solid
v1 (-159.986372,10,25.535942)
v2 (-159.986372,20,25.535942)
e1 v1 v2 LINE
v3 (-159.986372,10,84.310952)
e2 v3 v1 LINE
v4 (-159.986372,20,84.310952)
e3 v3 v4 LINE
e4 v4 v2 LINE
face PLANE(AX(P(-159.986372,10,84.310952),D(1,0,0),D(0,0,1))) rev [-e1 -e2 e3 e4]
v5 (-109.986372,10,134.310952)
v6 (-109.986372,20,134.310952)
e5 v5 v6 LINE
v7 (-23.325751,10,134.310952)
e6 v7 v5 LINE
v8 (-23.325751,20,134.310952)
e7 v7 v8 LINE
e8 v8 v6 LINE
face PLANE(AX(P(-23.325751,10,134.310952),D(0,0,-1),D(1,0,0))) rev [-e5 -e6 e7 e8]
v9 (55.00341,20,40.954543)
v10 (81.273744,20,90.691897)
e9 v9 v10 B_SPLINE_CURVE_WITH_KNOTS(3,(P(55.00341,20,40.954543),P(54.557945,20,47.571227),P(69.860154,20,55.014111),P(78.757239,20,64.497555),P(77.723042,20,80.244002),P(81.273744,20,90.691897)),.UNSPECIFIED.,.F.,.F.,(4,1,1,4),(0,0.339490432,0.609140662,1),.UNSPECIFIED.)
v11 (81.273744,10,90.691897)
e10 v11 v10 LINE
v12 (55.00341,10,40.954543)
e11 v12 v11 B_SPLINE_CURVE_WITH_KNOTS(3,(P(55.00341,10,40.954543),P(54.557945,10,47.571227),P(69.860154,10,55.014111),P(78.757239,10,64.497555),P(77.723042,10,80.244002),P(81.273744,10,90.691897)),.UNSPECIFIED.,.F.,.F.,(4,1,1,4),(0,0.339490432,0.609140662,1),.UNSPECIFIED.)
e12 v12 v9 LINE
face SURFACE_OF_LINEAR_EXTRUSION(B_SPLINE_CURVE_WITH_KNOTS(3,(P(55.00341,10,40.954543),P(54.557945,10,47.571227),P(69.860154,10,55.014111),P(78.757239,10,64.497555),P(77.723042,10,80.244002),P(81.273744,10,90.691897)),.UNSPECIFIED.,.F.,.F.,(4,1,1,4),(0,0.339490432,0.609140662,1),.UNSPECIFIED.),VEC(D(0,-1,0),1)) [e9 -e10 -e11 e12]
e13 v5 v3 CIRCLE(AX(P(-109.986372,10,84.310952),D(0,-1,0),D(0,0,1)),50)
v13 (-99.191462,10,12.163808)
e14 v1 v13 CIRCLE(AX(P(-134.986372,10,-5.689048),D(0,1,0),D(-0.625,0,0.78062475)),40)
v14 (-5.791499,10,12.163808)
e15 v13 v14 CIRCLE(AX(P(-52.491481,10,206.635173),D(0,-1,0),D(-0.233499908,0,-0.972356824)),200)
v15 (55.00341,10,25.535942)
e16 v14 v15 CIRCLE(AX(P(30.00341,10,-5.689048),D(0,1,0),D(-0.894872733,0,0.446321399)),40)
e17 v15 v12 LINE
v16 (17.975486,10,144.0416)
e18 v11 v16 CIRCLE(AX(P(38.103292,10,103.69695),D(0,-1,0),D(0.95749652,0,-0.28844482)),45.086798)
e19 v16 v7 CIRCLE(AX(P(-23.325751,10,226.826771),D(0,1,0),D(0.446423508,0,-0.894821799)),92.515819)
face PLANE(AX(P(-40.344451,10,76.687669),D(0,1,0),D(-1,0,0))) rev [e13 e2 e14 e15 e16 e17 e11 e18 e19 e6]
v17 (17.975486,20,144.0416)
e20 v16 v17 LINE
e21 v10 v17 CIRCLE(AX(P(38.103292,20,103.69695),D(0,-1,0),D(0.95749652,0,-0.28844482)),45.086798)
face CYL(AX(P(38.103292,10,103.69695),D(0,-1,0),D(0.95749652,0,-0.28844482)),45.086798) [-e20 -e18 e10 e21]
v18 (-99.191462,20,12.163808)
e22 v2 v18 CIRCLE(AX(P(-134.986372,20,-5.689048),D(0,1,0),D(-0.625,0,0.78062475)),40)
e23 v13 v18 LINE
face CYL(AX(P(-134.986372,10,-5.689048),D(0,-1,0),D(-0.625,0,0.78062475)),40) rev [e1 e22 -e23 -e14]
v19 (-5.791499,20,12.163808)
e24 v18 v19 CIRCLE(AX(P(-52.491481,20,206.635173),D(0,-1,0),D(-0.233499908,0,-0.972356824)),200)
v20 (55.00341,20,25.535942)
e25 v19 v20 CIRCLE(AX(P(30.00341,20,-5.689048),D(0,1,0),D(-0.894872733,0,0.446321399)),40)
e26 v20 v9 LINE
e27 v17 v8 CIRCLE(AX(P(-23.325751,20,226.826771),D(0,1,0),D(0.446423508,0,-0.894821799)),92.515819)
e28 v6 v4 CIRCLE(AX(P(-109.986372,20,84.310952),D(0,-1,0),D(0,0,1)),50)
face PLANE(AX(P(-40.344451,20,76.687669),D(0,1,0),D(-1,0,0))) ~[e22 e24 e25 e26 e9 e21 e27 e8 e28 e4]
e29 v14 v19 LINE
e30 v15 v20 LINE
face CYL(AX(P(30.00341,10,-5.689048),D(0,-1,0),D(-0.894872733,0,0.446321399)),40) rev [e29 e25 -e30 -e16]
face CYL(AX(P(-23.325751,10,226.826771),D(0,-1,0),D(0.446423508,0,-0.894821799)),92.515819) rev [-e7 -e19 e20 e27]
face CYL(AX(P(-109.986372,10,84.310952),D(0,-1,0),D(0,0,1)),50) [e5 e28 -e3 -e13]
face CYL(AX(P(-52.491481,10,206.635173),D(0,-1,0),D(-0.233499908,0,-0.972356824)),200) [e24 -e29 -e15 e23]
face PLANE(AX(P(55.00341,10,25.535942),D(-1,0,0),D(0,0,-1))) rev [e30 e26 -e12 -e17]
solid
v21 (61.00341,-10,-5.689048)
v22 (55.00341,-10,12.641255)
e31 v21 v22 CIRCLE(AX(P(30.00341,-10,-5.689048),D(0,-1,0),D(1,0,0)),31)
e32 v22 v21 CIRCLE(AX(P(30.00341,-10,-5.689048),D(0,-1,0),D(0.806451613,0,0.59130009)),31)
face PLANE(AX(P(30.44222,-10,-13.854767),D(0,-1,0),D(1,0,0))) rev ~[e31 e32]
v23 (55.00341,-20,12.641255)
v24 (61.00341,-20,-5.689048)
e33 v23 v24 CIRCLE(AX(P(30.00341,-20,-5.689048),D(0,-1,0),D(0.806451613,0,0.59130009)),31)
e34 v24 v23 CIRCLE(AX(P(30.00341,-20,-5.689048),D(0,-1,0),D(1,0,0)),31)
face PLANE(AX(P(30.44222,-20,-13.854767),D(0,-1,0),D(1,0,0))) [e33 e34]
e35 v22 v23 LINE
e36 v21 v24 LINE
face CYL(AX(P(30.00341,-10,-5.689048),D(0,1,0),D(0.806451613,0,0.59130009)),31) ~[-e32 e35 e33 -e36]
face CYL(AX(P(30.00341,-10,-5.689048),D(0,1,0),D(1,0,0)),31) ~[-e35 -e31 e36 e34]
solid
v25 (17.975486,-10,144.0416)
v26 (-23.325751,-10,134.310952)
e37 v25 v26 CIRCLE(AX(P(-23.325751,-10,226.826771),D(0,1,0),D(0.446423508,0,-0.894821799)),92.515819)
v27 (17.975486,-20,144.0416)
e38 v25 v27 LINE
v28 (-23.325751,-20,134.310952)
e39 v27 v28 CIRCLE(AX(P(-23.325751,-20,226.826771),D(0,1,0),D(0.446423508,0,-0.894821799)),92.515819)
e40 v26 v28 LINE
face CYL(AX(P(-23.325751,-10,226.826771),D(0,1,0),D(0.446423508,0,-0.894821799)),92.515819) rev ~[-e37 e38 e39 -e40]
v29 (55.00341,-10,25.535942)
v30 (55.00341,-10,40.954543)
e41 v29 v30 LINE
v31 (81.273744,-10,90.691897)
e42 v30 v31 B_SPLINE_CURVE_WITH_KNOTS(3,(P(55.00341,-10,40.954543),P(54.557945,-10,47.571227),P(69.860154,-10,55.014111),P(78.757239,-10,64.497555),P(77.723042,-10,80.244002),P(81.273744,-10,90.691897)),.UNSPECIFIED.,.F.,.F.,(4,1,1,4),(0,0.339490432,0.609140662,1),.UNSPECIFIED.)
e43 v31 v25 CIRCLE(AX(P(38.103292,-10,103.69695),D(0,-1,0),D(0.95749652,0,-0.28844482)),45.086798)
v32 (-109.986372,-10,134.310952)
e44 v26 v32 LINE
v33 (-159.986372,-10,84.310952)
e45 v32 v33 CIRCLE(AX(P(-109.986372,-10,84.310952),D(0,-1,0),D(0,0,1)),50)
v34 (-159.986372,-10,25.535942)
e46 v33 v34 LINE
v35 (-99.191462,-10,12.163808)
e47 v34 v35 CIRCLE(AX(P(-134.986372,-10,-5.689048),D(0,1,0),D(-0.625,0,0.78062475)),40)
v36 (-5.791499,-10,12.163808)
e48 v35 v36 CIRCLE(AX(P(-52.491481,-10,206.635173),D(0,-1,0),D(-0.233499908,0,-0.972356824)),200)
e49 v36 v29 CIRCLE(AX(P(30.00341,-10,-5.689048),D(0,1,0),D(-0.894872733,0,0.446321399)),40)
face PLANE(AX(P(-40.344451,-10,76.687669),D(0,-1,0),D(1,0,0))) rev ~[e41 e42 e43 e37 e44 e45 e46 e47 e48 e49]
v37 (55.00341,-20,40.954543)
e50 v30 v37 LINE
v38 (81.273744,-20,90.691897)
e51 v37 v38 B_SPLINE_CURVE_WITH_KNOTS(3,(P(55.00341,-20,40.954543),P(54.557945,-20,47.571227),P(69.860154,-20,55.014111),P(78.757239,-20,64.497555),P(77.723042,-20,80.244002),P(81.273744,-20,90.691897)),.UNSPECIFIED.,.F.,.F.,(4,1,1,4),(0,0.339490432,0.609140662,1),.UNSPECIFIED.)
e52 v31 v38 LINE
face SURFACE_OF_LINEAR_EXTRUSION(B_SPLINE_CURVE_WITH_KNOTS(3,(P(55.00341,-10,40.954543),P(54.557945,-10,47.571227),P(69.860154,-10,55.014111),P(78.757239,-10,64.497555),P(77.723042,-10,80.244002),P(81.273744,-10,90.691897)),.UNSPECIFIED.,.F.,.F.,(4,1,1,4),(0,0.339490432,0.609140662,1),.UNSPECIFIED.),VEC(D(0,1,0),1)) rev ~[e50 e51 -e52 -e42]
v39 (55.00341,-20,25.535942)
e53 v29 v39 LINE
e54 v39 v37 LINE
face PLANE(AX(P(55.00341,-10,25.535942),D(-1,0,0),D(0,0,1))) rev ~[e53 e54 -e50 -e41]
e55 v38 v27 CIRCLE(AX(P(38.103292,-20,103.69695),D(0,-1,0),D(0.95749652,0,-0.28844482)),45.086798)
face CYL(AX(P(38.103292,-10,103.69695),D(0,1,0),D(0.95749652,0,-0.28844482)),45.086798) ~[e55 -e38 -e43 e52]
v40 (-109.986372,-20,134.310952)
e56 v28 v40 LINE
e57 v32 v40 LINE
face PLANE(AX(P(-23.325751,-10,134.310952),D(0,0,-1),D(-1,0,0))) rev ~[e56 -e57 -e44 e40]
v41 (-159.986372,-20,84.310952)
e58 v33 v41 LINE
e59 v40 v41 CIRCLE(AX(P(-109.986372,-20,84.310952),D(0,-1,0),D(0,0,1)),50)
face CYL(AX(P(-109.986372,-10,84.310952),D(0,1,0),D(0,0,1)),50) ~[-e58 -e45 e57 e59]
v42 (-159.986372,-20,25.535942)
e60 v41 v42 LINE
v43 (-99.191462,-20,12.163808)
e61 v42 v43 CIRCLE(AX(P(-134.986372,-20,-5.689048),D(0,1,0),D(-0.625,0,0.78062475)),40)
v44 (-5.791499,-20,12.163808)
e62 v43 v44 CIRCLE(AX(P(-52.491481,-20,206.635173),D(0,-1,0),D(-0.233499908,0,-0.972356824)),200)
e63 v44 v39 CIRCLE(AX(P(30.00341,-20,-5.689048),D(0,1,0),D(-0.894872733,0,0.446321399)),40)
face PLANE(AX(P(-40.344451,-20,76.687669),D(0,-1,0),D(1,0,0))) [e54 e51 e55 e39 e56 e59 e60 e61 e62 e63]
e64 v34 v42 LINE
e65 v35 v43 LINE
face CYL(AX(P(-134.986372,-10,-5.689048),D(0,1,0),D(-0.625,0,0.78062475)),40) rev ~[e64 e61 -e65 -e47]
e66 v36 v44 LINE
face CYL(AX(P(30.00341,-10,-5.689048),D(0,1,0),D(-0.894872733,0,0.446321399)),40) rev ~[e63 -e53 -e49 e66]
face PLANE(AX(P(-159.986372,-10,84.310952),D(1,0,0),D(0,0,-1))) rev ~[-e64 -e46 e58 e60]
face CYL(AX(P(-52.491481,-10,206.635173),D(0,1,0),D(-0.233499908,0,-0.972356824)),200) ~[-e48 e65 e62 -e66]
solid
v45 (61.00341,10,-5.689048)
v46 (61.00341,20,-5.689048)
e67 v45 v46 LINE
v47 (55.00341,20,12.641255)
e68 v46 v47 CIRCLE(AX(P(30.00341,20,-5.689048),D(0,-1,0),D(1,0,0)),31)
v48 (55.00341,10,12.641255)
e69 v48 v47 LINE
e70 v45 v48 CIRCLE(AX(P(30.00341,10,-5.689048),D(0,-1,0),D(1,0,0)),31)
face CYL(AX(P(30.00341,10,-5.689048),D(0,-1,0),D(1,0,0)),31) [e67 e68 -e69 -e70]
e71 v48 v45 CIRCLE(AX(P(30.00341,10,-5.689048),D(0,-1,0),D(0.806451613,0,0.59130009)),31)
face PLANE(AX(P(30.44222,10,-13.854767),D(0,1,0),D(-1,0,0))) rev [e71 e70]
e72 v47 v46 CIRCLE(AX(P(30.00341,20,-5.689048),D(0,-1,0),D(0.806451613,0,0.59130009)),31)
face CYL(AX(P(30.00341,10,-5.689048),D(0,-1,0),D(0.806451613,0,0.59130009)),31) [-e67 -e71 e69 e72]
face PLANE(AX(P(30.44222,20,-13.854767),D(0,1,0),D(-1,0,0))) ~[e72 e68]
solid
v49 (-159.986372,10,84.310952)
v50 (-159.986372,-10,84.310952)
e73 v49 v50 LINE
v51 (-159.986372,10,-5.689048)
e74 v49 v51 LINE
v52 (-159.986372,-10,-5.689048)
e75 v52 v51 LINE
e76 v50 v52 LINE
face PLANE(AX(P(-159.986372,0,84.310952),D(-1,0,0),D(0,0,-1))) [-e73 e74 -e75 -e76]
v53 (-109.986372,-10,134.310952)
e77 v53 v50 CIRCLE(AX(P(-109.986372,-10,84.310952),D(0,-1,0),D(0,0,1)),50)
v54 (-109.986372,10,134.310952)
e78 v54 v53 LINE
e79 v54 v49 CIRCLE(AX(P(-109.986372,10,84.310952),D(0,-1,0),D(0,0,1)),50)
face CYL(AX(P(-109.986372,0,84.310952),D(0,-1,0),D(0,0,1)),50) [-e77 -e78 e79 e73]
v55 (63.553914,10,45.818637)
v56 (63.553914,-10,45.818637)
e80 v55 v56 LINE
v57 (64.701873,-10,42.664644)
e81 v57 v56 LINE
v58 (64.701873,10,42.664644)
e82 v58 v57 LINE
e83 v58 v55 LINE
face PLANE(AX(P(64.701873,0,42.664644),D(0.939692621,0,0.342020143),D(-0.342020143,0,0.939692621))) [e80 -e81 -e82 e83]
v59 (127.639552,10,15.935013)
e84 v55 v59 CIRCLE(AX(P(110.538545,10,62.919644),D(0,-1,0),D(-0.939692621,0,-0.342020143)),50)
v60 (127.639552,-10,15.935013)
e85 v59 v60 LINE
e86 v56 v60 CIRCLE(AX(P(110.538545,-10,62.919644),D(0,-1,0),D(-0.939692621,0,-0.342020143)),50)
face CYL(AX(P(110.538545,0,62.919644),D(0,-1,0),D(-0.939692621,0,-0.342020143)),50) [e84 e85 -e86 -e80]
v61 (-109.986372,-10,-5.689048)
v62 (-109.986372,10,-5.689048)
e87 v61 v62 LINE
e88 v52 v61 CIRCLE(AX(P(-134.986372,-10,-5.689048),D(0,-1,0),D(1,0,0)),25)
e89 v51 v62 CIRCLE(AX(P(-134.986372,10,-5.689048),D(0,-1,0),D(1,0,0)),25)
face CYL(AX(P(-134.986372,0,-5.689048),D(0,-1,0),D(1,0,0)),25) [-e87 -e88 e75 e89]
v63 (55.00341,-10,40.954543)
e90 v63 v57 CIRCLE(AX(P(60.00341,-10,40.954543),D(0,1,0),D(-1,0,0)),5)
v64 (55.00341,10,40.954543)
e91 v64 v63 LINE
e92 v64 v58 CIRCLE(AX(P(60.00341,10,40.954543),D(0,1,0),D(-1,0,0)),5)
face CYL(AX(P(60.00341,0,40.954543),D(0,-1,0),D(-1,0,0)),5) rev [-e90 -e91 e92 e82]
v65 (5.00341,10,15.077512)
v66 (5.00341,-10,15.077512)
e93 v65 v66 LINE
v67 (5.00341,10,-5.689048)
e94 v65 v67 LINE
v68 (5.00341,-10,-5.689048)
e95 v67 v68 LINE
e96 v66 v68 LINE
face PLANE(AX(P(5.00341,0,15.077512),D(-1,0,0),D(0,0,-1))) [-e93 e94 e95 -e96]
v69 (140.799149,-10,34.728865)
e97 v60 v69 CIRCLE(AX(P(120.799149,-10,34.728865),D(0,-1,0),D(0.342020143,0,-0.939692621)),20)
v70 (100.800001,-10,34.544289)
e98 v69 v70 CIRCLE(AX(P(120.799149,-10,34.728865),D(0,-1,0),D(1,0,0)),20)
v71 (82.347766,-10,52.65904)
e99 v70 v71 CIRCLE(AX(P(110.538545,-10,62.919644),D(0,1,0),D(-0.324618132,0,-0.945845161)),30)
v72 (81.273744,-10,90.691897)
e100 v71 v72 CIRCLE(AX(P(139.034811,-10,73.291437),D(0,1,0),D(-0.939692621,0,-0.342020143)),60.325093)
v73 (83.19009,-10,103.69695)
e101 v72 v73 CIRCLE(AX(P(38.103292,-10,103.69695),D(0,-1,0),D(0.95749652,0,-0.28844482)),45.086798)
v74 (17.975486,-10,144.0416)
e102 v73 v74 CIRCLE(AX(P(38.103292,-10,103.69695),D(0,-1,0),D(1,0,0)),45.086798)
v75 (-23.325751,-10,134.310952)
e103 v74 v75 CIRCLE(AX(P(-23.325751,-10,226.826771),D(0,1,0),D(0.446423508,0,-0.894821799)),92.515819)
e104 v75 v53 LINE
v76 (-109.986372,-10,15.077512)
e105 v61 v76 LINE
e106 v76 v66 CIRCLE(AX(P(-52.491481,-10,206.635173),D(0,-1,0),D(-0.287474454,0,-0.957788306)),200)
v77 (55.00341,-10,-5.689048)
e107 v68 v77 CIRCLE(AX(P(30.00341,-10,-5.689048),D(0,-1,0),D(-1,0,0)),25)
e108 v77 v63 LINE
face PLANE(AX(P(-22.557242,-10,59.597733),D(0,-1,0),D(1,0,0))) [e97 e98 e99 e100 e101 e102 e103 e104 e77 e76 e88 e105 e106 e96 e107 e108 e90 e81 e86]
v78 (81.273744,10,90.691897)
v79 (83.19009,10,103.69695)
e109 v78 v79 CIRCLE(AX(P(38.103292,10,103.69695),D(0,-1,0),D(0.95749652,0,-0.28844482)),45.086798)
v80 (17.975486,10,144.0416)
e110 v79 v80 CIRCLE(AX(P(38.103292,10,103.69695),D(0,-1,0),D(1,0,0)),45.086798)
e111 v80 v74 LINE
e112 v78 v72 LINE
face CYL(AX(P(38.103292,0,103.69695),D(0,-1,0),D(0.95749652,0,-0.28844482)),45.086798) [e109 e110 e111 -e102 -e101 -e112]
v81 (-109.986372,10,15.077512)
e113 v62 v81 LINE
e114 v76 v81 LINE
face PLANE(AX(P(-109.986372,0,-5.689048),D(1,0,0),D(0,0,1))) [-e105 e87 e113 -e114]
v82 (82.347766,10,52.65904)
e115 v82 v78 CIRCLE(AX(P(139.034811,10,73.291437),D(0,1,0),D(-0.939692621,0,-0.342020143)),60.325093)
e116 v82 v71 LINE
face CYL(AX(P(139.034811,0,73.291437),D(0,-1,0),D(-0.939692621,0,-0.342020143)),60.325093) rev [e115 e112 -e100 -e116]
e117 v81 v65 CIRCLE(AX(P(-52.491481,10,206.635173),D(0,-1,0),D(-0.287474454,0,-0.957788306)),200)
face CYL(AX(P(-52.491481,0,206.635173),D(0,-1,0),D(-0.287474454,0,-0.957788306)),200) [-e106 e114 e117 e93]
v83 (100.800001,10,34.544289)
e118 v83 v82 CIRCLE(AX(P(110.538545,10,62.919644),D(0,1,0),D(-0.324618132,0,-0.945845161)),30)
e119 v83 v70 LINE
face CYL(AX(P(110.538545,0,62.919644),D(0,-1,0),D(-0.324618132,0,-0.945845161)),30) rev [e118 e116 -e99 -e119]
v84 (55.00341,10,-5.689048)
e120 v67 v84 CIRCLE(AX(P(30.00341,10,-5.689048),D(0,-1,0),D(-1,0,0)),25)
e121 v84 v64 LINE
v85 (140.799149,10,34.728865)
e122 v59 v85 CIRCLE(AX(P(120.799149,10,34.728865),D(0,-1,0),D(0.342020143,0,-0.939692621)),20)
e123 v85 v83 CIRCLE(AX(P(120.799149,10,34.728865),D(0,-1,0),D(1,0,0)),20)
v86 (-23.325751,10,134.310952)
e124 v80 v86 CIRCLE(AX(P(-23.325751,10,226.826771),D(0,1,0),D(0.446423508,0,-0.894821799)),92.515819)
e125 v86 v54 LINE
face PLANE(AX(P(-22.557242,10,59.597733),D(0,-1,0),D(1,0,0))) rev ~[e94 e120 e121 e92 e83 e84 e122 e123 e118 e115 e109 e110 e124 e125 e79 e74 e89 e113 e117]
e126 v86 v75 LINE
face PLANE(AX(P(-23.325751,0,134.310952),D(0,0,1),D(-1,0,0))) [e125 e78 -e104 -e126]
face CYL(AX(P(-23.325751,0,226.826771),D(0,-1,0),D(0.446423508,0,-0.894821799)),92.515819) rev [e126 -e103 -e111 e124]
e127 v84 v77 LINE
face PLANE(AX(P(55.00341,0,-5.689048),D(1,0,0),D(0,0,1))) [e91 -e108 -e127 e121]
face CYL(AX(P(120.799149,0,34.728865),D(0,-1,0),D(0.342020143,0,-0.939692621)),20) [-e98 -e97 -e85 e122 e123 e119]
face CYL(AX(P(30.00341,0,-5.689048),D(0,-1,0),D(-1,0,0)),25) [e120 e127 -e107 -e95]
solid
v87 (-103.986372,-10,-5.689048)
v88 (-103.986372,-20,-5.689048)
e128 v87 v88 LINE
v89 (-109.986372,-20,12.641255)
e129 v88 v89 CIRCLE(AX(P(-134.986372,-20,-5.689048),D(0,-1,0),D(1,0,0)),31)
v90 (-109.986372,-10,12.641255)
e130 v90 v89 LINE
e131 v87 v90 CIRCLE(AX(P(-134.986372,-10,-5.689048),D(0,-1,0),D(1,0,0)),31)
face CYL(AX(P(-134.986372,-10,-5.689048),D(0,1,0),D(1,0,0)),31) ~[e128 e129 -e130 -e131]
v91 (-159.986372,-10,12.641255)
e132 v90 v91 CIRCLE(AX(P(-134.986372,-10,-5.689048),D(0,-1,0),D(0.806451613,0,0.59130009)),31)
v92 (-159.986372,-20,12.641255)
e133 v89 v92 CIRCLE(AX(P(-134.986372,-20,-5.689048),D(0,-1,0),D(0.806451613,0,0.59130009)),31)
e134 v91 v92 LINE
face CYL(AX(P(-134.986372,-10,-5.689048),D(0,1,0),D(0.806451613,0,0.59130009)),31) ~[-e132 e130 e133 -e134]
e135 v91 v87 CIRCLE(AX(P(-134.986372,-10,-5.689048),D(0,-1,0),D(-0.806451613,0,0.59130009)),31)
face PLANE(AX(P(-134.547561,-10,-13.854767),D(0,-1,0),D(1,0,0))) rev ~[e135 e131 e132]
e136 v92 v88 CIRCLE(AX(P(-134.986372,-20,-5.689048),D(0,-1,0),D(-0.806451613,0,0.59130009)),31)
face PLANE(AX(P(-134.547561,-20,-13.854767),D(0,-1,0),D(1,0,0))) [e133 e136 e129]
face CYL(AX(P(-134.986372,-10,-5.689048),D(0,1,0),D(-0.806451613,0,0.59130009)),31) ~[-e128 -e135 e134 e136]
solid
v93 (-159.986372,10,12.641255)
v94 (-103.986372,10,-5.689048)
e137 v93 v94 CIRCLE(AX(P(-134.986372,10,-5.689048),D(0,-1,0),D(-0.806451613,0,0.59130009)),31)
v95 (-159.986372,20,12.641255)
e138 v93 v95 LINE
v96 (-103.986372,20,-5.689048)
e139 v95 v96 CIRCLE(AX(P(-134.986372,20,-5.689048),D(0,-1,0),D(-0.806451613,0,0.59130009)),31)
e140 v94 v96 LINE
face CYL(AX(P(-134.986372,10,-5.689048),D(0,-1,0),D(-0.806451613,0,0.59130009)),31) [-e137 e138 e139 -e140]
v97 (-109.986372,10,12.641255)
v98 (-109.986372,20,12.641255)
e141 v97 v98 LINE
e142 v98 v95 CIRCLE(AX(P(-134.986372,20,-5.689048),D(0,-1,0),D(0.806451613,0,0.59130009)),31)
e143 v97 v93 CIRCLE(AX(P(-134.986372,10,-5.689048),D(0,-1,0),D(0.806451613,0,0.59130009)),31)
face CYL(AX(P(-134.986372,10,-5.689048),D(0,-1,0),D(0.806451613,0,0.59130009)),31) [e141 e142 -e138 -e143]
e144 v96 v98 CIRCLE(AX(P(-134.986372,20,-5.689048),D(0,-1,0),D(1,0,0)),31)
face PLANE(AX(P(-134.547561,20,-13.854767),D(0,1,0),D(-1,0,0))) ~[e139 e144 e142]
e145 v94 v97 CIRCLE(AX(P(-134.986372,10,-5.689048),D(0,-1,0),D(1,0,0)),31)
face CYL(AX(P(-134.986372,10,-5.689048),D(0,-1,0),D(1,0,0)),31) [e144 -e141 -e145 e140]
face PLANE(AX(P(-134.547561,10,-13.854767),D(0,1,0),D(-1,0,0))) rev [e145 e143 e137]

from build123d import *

# Parameters (mm, degrees)
F1_DEPTH = 10
F3_DEPTH = 10
F6_DEPTH = 10


with BuildPart() as f1:
    # F0 (on Front) → F1 (new body, symmetric)
    with BuildSketch(Plane.XZ):
        with BuildLine():
            ThreePointArc((-109.9863715538, 15.0775118893), (-52.4914807127, 6.6351729921), (5.0034101283, 15.0775118893))
            ThreePointArc((5.0034101283, 15.0775118893), (30.0034101283, 26.810952232), (55.0034101283, 15.0775118893))
            Line((55.0034101283, 15.0775118893), (55.0034101283, 40.9545431339))
            ThreePointArc((55.0034101283, 40.9545431339), (59.13516924, 45.878581899), (64.7018732323, 42.6646438505))
            Line((64.7018732323, 42.6646438505), (63.5539137115, 45.8186367123))
            ThreePointArc((63.5539137115, 45.8186367123), (89.4076316637, 17.6042545268), (127.6395519171, 15.9350128393))
            ThreePointArc((127.6395519171, 15.9350128393), (109.403341247, 18.293063951), (100.800000778, 34.5442890563))
            ThreePointArc((100.800000778, 34.5442890563), (89.5220173312, 41.5115712138), (82.3477661272, 52.6590395789))
            Line((82.3477661272, 52.6590395789), (73.7972625441, 76.1513550985))
            ThreePointArc((73.7972625441, 76.1513550985), (8.9945822777, 69.2658261804), (5.0034101283, 134.310952232))
            Line((5.0034101283, 134.310952232), (-23.3257505188, 134.310952232))
            Line((-23.3257505188, 134.310952232), (-109.9863715538, 134.310952232))
            ThreePointArc((-109.9863715538, 134.310952232), (-145.3417106131, 119.6662912913), (-159.9863715538, 84.310952232))
            Line((-159.9863715538, 84.310952232), (-159.9863715538, 15.0775118893))
            ThreePointArc((-159.9863715538, 15.0775118893), (-134.9863715538, 26.810952232), (-109.9863715538, 15.0775118893))
        make_face()
        with BuildLine():
            Line((-109.9863715538, -5.689047768), (-109.9863715538, 15.0775118893))
            ThreePointArc((-109.9863715538, 15.0775118893), (-134.9863715538, 26.810952232), (-159.9863715538, 15.0775118893))
            Line((-159.9863715538, 15.0775118893), (-159.9863715538, -5.689047768))
            ThreePointArc((-159.9863715538, -5.689047768), (-134.9863715538, 19.310952232), (-109.9863715538, -5.689047768))
        make_face()
        with BuildLine():
            ThreePointArc((-159.9863715538, -5.689047768), (-134.9863715538, -30.689047768), (-109.9863715538, -5.689047768))
            ThreePointArc((-109.9863715538, -5.689047768), (-134.9863715538, 19.310952232), (-159.9863715538, -5.689047768))
        make_face()
        with BuildLine():
            ThreePointArc((55.0034101283, -5.689047768), (30.0034101283, 19.310952232), (5.0034101283, -5.689047768))
            ThreePointArc((5.0034101283, -5.689047768), (30.0034101283, -30.689047768), (55.0034101283, -5.689047768))
        make_face()
        with BuildLine():
            ThreePointArc((55.0034101283, 15.0775118893), (30.0034101283, 26.810952232), (5.0034101283, 15.0775118893))
            Line((5.0034101283, 15.0775118893), (5.0034101283, -5.689047768))
            ThreePointArc((5.0034101283, -5.689047768), (30.0034101283, 19.310952232), (55.0034101283, -5.689047768))
            Line((55.0034101283, -5.689047768), (55.0034101283, 15.0775118893))
        make_face()
        with BuildLine():
            ThreePointArc((17.9754860674, 144.0415997005), (11.0483837227, 139.7642656748), (5.0034101283, 134.310952232))
            ThreePointArc((5.0034101283, 134.310952232), (8.9945822777, 69.2658261804), (73.7972625441, 76.1513550985))
            ThreePointArc((73.7972625441, 76.1513550985), (78.2001265033, 83.0798890213), (81.2737442599, 90.6918971171))
            ThreePointArc((81.2737442599, 90.6918971171), (82.7084308484, 97.124207571), (83.1900900666, 103.6969503608))
            ThreePointArc((83.1900900666, 103.6969503608), (61.8237581558, 142.0396005858), (17.9754860674, 144.0415997005))
        make_face()
        with BuildLine():
            Line((73.7972625441, 76.1513550985), (82.3477661272, 52.6590395789))
            ThreePointArc((82.3477661272, 52.6590395789), (78.7337568866, 71.5885760217), (81.2737442599, 90.6918971171))
            ThreePointArc((81.2737442599, 90.6918971171), (78.2001265033, 83.0798890213), (73.7972625441, 76.1513550985))
        make_face()
        with BuildLine():
            ThreePointArc((17.9754860674, 144.0415997005), (-2.1097327274, 136.7764666502), (-23.3257505188, 134.310952232))
            Line((-23.3257505188, 134.310952232), (5.0034101283, 134.310952232))
            ThreePointArc((5.0034101283, 134.310952232), (11.0483837227, 139.7642656748), (17.9754860674, 144.0415997005))
        make_face()
        with BuildLine():
            ThreePointArc((100.800000778, 34.5442890563), (109.403341247, 18.293063951), (127.6395519171, 15.9350128393))
            ThreePointArc((127.6395519171, 15.9350128393), (137.1821899363, 23.257336528), (140.7991490506, 34.728865255))
            ThreePointArc((140.7991490506, 34.728865255), (120.7068599686, 54.728652322), (100.800000778, 34.5442890563))
        make_face()
    extrude(amount=F1_DEPTH, both=True)


with BuildPart() as f3:
    # F2 (on face) → F3 (new body)
    with BuildSketch(Plane.XZ.offset(10)):
        with BuildLine():
            ThreePointArc((-159.9863715538, 12.6412550118), (-144.6300223147, -35.1508874933), (-103.9863715538, -5.689047768))
            ThreePointArc((-103.9863715538, -5.689047768), (-105.5245318284, 3.954602993), (-109.9863715537, 12.6412550118))
            Line((-109.9863715538, 12.6412550118), (-109.9863715538, -5.689047768))
            ThreePointArc((-109.9863715538, -5.689047768), (-134.9863715538, -30.689047768), (-159.9863715538, -5.689047768))
            Line((-159.9863715538, -5.689047768), (-159.9863715538, 12.6412550118))
        make_face()
        with BuildLine():
            Line((-109.9863715538, -5.689047768), (-109.9863715538, 12.6412550118))
            ThreePointArc((-109.9863715537, 12.6412550118), (-134.9863715537, 25.310952232), (-159.9863715538, 12.6412550118))
            Line((-159.9863715538, 12.6412550118), (-159.9863715538, -5.689047768))
            ThreePointArc((-159.9863715538, -5.689047768), (-134.9863715538, -30.689047768), (-109.9863715538, -5.689047768))
        make_face()
    extrude(amount=F3_DEPTH)


with BuildPart() as f3b:
    # F2 (on face) → F3, piece 2 (new body)
    with BuildSketch(Plane.XZ.offset(10)):
        with BuildLine():
            Line((5.0034101283, -5.689047768), (5.0034101283, 12.6412550118))
            ThreePointArc((5.0034101283, 12.6412550118), (20.3597593673, -35.1508874933), (61.0034101283, -5.689047768))
            ThreePointArc((61.0034101283, -5.689047768), (59.4652498537, 3.954602993), (55.0034101283, 12.6412550118))
            Line((55.0034101283, 12.6412550118), (55.0034101283, -5.689047768))
            ThreePointArc((55.0034101283, -5.689047768), (30.0034101283, -30.689047768), (5.0034101283, -5.689047768))
        make_face()
        with BuildLine():
            ThreePointArc((55.0034101283, 12.6412550118), (30.0034101283, 25.310952232), (5.0034101283, 12.6412550118))
            Line((5.0034101283, 12.6412550118), (5.0034101283, -5.689047768))
            ThreePointArc((5.0034101283, -5.689047768), (30.0034101283, -30.689047768), (55.0034101283, -5.689047768))
            Line((55.0034101283, -5.689047768), (55.0034101283, 12.6412550118))
        make_face()
    extrude(amount=F3_DEPTH)


with BuildPart() as f4_1:
    # F4: instance of F3
    add(f3.part.mirror(Plane.XZ))


with BuildPart() as f4_2:
    # F4: instance of F3b
    add(f3b.part.mirror(Plane.XZ))


with BuildPart() as f6:
    # F5 (on face) → F6 (new body)
    with BuildSketch(Plane.XZ.offset(10)):
        with BuildLine():
            ThreePointArc((81.2737442599, 90.6918971171), (67.1599365833, 138.1720247077), (17.9754860674, 144.0415997005))
            ThreePointArc((17.9754860674, 144.0415997005), (-2.1097327274, 136.7764666502), (-23.3257505188, 134.310952232))
            Line((-23.3257505188, 134.310952232), (-109.9863715538, 134.310952232))
            ThreePointArc((-109.9863715538, 134.310952232), (-145.3417106131, 119.6662912913), (-159.9863715538, 84.310952232))
            Line((-159.9863715538, 84.310952232), (-159.9863715538, 25.535942224))
            ThreePointArc((-159.9863715538, 25.535942224), (-126.3935833562, 33.3771011463), (-99.1914622222, 12.1638081925))
            ThreePointArc((-99.1914622222, 12.1638081925), (-52.4914807127, 6.6351729921), (-5.7914992032, 12.1638081925))
            ThreePointArc((-5.7914992032, 12.1638081925), (21.4106219308, 33.3771011463), (55.0034101283, 25.535942224))
            Line((55.0034101283, 25.535942224), (55.0034101283, 40.9545431339))
            add(Edge.make_bspline(
                [(55.0034101283, 40.9545431339), (54.5579449086, 47.5712268811), (69.8601535603, 55.014111341), (78.7572387814, 64.4975553299), (77.7230419168, 80.2440019801), (81.2737442599, 90.6918971171)],
                knots=[0, 0, 0, 0, 0.3394904316, 0.6091406625, 1, 1, 1, 1], degree=3))
        make_face()
    extrude(amount=F6_DEPTH)


with BuildPart() as f7_1:
    # F7: instance of F6
    add(f6.part.mirror(Plane.XZ))


solid = Compound([f1.part, f3.part, f3b.part, f4_1.part, f4_2.part, f6.part, f7_1.part])
